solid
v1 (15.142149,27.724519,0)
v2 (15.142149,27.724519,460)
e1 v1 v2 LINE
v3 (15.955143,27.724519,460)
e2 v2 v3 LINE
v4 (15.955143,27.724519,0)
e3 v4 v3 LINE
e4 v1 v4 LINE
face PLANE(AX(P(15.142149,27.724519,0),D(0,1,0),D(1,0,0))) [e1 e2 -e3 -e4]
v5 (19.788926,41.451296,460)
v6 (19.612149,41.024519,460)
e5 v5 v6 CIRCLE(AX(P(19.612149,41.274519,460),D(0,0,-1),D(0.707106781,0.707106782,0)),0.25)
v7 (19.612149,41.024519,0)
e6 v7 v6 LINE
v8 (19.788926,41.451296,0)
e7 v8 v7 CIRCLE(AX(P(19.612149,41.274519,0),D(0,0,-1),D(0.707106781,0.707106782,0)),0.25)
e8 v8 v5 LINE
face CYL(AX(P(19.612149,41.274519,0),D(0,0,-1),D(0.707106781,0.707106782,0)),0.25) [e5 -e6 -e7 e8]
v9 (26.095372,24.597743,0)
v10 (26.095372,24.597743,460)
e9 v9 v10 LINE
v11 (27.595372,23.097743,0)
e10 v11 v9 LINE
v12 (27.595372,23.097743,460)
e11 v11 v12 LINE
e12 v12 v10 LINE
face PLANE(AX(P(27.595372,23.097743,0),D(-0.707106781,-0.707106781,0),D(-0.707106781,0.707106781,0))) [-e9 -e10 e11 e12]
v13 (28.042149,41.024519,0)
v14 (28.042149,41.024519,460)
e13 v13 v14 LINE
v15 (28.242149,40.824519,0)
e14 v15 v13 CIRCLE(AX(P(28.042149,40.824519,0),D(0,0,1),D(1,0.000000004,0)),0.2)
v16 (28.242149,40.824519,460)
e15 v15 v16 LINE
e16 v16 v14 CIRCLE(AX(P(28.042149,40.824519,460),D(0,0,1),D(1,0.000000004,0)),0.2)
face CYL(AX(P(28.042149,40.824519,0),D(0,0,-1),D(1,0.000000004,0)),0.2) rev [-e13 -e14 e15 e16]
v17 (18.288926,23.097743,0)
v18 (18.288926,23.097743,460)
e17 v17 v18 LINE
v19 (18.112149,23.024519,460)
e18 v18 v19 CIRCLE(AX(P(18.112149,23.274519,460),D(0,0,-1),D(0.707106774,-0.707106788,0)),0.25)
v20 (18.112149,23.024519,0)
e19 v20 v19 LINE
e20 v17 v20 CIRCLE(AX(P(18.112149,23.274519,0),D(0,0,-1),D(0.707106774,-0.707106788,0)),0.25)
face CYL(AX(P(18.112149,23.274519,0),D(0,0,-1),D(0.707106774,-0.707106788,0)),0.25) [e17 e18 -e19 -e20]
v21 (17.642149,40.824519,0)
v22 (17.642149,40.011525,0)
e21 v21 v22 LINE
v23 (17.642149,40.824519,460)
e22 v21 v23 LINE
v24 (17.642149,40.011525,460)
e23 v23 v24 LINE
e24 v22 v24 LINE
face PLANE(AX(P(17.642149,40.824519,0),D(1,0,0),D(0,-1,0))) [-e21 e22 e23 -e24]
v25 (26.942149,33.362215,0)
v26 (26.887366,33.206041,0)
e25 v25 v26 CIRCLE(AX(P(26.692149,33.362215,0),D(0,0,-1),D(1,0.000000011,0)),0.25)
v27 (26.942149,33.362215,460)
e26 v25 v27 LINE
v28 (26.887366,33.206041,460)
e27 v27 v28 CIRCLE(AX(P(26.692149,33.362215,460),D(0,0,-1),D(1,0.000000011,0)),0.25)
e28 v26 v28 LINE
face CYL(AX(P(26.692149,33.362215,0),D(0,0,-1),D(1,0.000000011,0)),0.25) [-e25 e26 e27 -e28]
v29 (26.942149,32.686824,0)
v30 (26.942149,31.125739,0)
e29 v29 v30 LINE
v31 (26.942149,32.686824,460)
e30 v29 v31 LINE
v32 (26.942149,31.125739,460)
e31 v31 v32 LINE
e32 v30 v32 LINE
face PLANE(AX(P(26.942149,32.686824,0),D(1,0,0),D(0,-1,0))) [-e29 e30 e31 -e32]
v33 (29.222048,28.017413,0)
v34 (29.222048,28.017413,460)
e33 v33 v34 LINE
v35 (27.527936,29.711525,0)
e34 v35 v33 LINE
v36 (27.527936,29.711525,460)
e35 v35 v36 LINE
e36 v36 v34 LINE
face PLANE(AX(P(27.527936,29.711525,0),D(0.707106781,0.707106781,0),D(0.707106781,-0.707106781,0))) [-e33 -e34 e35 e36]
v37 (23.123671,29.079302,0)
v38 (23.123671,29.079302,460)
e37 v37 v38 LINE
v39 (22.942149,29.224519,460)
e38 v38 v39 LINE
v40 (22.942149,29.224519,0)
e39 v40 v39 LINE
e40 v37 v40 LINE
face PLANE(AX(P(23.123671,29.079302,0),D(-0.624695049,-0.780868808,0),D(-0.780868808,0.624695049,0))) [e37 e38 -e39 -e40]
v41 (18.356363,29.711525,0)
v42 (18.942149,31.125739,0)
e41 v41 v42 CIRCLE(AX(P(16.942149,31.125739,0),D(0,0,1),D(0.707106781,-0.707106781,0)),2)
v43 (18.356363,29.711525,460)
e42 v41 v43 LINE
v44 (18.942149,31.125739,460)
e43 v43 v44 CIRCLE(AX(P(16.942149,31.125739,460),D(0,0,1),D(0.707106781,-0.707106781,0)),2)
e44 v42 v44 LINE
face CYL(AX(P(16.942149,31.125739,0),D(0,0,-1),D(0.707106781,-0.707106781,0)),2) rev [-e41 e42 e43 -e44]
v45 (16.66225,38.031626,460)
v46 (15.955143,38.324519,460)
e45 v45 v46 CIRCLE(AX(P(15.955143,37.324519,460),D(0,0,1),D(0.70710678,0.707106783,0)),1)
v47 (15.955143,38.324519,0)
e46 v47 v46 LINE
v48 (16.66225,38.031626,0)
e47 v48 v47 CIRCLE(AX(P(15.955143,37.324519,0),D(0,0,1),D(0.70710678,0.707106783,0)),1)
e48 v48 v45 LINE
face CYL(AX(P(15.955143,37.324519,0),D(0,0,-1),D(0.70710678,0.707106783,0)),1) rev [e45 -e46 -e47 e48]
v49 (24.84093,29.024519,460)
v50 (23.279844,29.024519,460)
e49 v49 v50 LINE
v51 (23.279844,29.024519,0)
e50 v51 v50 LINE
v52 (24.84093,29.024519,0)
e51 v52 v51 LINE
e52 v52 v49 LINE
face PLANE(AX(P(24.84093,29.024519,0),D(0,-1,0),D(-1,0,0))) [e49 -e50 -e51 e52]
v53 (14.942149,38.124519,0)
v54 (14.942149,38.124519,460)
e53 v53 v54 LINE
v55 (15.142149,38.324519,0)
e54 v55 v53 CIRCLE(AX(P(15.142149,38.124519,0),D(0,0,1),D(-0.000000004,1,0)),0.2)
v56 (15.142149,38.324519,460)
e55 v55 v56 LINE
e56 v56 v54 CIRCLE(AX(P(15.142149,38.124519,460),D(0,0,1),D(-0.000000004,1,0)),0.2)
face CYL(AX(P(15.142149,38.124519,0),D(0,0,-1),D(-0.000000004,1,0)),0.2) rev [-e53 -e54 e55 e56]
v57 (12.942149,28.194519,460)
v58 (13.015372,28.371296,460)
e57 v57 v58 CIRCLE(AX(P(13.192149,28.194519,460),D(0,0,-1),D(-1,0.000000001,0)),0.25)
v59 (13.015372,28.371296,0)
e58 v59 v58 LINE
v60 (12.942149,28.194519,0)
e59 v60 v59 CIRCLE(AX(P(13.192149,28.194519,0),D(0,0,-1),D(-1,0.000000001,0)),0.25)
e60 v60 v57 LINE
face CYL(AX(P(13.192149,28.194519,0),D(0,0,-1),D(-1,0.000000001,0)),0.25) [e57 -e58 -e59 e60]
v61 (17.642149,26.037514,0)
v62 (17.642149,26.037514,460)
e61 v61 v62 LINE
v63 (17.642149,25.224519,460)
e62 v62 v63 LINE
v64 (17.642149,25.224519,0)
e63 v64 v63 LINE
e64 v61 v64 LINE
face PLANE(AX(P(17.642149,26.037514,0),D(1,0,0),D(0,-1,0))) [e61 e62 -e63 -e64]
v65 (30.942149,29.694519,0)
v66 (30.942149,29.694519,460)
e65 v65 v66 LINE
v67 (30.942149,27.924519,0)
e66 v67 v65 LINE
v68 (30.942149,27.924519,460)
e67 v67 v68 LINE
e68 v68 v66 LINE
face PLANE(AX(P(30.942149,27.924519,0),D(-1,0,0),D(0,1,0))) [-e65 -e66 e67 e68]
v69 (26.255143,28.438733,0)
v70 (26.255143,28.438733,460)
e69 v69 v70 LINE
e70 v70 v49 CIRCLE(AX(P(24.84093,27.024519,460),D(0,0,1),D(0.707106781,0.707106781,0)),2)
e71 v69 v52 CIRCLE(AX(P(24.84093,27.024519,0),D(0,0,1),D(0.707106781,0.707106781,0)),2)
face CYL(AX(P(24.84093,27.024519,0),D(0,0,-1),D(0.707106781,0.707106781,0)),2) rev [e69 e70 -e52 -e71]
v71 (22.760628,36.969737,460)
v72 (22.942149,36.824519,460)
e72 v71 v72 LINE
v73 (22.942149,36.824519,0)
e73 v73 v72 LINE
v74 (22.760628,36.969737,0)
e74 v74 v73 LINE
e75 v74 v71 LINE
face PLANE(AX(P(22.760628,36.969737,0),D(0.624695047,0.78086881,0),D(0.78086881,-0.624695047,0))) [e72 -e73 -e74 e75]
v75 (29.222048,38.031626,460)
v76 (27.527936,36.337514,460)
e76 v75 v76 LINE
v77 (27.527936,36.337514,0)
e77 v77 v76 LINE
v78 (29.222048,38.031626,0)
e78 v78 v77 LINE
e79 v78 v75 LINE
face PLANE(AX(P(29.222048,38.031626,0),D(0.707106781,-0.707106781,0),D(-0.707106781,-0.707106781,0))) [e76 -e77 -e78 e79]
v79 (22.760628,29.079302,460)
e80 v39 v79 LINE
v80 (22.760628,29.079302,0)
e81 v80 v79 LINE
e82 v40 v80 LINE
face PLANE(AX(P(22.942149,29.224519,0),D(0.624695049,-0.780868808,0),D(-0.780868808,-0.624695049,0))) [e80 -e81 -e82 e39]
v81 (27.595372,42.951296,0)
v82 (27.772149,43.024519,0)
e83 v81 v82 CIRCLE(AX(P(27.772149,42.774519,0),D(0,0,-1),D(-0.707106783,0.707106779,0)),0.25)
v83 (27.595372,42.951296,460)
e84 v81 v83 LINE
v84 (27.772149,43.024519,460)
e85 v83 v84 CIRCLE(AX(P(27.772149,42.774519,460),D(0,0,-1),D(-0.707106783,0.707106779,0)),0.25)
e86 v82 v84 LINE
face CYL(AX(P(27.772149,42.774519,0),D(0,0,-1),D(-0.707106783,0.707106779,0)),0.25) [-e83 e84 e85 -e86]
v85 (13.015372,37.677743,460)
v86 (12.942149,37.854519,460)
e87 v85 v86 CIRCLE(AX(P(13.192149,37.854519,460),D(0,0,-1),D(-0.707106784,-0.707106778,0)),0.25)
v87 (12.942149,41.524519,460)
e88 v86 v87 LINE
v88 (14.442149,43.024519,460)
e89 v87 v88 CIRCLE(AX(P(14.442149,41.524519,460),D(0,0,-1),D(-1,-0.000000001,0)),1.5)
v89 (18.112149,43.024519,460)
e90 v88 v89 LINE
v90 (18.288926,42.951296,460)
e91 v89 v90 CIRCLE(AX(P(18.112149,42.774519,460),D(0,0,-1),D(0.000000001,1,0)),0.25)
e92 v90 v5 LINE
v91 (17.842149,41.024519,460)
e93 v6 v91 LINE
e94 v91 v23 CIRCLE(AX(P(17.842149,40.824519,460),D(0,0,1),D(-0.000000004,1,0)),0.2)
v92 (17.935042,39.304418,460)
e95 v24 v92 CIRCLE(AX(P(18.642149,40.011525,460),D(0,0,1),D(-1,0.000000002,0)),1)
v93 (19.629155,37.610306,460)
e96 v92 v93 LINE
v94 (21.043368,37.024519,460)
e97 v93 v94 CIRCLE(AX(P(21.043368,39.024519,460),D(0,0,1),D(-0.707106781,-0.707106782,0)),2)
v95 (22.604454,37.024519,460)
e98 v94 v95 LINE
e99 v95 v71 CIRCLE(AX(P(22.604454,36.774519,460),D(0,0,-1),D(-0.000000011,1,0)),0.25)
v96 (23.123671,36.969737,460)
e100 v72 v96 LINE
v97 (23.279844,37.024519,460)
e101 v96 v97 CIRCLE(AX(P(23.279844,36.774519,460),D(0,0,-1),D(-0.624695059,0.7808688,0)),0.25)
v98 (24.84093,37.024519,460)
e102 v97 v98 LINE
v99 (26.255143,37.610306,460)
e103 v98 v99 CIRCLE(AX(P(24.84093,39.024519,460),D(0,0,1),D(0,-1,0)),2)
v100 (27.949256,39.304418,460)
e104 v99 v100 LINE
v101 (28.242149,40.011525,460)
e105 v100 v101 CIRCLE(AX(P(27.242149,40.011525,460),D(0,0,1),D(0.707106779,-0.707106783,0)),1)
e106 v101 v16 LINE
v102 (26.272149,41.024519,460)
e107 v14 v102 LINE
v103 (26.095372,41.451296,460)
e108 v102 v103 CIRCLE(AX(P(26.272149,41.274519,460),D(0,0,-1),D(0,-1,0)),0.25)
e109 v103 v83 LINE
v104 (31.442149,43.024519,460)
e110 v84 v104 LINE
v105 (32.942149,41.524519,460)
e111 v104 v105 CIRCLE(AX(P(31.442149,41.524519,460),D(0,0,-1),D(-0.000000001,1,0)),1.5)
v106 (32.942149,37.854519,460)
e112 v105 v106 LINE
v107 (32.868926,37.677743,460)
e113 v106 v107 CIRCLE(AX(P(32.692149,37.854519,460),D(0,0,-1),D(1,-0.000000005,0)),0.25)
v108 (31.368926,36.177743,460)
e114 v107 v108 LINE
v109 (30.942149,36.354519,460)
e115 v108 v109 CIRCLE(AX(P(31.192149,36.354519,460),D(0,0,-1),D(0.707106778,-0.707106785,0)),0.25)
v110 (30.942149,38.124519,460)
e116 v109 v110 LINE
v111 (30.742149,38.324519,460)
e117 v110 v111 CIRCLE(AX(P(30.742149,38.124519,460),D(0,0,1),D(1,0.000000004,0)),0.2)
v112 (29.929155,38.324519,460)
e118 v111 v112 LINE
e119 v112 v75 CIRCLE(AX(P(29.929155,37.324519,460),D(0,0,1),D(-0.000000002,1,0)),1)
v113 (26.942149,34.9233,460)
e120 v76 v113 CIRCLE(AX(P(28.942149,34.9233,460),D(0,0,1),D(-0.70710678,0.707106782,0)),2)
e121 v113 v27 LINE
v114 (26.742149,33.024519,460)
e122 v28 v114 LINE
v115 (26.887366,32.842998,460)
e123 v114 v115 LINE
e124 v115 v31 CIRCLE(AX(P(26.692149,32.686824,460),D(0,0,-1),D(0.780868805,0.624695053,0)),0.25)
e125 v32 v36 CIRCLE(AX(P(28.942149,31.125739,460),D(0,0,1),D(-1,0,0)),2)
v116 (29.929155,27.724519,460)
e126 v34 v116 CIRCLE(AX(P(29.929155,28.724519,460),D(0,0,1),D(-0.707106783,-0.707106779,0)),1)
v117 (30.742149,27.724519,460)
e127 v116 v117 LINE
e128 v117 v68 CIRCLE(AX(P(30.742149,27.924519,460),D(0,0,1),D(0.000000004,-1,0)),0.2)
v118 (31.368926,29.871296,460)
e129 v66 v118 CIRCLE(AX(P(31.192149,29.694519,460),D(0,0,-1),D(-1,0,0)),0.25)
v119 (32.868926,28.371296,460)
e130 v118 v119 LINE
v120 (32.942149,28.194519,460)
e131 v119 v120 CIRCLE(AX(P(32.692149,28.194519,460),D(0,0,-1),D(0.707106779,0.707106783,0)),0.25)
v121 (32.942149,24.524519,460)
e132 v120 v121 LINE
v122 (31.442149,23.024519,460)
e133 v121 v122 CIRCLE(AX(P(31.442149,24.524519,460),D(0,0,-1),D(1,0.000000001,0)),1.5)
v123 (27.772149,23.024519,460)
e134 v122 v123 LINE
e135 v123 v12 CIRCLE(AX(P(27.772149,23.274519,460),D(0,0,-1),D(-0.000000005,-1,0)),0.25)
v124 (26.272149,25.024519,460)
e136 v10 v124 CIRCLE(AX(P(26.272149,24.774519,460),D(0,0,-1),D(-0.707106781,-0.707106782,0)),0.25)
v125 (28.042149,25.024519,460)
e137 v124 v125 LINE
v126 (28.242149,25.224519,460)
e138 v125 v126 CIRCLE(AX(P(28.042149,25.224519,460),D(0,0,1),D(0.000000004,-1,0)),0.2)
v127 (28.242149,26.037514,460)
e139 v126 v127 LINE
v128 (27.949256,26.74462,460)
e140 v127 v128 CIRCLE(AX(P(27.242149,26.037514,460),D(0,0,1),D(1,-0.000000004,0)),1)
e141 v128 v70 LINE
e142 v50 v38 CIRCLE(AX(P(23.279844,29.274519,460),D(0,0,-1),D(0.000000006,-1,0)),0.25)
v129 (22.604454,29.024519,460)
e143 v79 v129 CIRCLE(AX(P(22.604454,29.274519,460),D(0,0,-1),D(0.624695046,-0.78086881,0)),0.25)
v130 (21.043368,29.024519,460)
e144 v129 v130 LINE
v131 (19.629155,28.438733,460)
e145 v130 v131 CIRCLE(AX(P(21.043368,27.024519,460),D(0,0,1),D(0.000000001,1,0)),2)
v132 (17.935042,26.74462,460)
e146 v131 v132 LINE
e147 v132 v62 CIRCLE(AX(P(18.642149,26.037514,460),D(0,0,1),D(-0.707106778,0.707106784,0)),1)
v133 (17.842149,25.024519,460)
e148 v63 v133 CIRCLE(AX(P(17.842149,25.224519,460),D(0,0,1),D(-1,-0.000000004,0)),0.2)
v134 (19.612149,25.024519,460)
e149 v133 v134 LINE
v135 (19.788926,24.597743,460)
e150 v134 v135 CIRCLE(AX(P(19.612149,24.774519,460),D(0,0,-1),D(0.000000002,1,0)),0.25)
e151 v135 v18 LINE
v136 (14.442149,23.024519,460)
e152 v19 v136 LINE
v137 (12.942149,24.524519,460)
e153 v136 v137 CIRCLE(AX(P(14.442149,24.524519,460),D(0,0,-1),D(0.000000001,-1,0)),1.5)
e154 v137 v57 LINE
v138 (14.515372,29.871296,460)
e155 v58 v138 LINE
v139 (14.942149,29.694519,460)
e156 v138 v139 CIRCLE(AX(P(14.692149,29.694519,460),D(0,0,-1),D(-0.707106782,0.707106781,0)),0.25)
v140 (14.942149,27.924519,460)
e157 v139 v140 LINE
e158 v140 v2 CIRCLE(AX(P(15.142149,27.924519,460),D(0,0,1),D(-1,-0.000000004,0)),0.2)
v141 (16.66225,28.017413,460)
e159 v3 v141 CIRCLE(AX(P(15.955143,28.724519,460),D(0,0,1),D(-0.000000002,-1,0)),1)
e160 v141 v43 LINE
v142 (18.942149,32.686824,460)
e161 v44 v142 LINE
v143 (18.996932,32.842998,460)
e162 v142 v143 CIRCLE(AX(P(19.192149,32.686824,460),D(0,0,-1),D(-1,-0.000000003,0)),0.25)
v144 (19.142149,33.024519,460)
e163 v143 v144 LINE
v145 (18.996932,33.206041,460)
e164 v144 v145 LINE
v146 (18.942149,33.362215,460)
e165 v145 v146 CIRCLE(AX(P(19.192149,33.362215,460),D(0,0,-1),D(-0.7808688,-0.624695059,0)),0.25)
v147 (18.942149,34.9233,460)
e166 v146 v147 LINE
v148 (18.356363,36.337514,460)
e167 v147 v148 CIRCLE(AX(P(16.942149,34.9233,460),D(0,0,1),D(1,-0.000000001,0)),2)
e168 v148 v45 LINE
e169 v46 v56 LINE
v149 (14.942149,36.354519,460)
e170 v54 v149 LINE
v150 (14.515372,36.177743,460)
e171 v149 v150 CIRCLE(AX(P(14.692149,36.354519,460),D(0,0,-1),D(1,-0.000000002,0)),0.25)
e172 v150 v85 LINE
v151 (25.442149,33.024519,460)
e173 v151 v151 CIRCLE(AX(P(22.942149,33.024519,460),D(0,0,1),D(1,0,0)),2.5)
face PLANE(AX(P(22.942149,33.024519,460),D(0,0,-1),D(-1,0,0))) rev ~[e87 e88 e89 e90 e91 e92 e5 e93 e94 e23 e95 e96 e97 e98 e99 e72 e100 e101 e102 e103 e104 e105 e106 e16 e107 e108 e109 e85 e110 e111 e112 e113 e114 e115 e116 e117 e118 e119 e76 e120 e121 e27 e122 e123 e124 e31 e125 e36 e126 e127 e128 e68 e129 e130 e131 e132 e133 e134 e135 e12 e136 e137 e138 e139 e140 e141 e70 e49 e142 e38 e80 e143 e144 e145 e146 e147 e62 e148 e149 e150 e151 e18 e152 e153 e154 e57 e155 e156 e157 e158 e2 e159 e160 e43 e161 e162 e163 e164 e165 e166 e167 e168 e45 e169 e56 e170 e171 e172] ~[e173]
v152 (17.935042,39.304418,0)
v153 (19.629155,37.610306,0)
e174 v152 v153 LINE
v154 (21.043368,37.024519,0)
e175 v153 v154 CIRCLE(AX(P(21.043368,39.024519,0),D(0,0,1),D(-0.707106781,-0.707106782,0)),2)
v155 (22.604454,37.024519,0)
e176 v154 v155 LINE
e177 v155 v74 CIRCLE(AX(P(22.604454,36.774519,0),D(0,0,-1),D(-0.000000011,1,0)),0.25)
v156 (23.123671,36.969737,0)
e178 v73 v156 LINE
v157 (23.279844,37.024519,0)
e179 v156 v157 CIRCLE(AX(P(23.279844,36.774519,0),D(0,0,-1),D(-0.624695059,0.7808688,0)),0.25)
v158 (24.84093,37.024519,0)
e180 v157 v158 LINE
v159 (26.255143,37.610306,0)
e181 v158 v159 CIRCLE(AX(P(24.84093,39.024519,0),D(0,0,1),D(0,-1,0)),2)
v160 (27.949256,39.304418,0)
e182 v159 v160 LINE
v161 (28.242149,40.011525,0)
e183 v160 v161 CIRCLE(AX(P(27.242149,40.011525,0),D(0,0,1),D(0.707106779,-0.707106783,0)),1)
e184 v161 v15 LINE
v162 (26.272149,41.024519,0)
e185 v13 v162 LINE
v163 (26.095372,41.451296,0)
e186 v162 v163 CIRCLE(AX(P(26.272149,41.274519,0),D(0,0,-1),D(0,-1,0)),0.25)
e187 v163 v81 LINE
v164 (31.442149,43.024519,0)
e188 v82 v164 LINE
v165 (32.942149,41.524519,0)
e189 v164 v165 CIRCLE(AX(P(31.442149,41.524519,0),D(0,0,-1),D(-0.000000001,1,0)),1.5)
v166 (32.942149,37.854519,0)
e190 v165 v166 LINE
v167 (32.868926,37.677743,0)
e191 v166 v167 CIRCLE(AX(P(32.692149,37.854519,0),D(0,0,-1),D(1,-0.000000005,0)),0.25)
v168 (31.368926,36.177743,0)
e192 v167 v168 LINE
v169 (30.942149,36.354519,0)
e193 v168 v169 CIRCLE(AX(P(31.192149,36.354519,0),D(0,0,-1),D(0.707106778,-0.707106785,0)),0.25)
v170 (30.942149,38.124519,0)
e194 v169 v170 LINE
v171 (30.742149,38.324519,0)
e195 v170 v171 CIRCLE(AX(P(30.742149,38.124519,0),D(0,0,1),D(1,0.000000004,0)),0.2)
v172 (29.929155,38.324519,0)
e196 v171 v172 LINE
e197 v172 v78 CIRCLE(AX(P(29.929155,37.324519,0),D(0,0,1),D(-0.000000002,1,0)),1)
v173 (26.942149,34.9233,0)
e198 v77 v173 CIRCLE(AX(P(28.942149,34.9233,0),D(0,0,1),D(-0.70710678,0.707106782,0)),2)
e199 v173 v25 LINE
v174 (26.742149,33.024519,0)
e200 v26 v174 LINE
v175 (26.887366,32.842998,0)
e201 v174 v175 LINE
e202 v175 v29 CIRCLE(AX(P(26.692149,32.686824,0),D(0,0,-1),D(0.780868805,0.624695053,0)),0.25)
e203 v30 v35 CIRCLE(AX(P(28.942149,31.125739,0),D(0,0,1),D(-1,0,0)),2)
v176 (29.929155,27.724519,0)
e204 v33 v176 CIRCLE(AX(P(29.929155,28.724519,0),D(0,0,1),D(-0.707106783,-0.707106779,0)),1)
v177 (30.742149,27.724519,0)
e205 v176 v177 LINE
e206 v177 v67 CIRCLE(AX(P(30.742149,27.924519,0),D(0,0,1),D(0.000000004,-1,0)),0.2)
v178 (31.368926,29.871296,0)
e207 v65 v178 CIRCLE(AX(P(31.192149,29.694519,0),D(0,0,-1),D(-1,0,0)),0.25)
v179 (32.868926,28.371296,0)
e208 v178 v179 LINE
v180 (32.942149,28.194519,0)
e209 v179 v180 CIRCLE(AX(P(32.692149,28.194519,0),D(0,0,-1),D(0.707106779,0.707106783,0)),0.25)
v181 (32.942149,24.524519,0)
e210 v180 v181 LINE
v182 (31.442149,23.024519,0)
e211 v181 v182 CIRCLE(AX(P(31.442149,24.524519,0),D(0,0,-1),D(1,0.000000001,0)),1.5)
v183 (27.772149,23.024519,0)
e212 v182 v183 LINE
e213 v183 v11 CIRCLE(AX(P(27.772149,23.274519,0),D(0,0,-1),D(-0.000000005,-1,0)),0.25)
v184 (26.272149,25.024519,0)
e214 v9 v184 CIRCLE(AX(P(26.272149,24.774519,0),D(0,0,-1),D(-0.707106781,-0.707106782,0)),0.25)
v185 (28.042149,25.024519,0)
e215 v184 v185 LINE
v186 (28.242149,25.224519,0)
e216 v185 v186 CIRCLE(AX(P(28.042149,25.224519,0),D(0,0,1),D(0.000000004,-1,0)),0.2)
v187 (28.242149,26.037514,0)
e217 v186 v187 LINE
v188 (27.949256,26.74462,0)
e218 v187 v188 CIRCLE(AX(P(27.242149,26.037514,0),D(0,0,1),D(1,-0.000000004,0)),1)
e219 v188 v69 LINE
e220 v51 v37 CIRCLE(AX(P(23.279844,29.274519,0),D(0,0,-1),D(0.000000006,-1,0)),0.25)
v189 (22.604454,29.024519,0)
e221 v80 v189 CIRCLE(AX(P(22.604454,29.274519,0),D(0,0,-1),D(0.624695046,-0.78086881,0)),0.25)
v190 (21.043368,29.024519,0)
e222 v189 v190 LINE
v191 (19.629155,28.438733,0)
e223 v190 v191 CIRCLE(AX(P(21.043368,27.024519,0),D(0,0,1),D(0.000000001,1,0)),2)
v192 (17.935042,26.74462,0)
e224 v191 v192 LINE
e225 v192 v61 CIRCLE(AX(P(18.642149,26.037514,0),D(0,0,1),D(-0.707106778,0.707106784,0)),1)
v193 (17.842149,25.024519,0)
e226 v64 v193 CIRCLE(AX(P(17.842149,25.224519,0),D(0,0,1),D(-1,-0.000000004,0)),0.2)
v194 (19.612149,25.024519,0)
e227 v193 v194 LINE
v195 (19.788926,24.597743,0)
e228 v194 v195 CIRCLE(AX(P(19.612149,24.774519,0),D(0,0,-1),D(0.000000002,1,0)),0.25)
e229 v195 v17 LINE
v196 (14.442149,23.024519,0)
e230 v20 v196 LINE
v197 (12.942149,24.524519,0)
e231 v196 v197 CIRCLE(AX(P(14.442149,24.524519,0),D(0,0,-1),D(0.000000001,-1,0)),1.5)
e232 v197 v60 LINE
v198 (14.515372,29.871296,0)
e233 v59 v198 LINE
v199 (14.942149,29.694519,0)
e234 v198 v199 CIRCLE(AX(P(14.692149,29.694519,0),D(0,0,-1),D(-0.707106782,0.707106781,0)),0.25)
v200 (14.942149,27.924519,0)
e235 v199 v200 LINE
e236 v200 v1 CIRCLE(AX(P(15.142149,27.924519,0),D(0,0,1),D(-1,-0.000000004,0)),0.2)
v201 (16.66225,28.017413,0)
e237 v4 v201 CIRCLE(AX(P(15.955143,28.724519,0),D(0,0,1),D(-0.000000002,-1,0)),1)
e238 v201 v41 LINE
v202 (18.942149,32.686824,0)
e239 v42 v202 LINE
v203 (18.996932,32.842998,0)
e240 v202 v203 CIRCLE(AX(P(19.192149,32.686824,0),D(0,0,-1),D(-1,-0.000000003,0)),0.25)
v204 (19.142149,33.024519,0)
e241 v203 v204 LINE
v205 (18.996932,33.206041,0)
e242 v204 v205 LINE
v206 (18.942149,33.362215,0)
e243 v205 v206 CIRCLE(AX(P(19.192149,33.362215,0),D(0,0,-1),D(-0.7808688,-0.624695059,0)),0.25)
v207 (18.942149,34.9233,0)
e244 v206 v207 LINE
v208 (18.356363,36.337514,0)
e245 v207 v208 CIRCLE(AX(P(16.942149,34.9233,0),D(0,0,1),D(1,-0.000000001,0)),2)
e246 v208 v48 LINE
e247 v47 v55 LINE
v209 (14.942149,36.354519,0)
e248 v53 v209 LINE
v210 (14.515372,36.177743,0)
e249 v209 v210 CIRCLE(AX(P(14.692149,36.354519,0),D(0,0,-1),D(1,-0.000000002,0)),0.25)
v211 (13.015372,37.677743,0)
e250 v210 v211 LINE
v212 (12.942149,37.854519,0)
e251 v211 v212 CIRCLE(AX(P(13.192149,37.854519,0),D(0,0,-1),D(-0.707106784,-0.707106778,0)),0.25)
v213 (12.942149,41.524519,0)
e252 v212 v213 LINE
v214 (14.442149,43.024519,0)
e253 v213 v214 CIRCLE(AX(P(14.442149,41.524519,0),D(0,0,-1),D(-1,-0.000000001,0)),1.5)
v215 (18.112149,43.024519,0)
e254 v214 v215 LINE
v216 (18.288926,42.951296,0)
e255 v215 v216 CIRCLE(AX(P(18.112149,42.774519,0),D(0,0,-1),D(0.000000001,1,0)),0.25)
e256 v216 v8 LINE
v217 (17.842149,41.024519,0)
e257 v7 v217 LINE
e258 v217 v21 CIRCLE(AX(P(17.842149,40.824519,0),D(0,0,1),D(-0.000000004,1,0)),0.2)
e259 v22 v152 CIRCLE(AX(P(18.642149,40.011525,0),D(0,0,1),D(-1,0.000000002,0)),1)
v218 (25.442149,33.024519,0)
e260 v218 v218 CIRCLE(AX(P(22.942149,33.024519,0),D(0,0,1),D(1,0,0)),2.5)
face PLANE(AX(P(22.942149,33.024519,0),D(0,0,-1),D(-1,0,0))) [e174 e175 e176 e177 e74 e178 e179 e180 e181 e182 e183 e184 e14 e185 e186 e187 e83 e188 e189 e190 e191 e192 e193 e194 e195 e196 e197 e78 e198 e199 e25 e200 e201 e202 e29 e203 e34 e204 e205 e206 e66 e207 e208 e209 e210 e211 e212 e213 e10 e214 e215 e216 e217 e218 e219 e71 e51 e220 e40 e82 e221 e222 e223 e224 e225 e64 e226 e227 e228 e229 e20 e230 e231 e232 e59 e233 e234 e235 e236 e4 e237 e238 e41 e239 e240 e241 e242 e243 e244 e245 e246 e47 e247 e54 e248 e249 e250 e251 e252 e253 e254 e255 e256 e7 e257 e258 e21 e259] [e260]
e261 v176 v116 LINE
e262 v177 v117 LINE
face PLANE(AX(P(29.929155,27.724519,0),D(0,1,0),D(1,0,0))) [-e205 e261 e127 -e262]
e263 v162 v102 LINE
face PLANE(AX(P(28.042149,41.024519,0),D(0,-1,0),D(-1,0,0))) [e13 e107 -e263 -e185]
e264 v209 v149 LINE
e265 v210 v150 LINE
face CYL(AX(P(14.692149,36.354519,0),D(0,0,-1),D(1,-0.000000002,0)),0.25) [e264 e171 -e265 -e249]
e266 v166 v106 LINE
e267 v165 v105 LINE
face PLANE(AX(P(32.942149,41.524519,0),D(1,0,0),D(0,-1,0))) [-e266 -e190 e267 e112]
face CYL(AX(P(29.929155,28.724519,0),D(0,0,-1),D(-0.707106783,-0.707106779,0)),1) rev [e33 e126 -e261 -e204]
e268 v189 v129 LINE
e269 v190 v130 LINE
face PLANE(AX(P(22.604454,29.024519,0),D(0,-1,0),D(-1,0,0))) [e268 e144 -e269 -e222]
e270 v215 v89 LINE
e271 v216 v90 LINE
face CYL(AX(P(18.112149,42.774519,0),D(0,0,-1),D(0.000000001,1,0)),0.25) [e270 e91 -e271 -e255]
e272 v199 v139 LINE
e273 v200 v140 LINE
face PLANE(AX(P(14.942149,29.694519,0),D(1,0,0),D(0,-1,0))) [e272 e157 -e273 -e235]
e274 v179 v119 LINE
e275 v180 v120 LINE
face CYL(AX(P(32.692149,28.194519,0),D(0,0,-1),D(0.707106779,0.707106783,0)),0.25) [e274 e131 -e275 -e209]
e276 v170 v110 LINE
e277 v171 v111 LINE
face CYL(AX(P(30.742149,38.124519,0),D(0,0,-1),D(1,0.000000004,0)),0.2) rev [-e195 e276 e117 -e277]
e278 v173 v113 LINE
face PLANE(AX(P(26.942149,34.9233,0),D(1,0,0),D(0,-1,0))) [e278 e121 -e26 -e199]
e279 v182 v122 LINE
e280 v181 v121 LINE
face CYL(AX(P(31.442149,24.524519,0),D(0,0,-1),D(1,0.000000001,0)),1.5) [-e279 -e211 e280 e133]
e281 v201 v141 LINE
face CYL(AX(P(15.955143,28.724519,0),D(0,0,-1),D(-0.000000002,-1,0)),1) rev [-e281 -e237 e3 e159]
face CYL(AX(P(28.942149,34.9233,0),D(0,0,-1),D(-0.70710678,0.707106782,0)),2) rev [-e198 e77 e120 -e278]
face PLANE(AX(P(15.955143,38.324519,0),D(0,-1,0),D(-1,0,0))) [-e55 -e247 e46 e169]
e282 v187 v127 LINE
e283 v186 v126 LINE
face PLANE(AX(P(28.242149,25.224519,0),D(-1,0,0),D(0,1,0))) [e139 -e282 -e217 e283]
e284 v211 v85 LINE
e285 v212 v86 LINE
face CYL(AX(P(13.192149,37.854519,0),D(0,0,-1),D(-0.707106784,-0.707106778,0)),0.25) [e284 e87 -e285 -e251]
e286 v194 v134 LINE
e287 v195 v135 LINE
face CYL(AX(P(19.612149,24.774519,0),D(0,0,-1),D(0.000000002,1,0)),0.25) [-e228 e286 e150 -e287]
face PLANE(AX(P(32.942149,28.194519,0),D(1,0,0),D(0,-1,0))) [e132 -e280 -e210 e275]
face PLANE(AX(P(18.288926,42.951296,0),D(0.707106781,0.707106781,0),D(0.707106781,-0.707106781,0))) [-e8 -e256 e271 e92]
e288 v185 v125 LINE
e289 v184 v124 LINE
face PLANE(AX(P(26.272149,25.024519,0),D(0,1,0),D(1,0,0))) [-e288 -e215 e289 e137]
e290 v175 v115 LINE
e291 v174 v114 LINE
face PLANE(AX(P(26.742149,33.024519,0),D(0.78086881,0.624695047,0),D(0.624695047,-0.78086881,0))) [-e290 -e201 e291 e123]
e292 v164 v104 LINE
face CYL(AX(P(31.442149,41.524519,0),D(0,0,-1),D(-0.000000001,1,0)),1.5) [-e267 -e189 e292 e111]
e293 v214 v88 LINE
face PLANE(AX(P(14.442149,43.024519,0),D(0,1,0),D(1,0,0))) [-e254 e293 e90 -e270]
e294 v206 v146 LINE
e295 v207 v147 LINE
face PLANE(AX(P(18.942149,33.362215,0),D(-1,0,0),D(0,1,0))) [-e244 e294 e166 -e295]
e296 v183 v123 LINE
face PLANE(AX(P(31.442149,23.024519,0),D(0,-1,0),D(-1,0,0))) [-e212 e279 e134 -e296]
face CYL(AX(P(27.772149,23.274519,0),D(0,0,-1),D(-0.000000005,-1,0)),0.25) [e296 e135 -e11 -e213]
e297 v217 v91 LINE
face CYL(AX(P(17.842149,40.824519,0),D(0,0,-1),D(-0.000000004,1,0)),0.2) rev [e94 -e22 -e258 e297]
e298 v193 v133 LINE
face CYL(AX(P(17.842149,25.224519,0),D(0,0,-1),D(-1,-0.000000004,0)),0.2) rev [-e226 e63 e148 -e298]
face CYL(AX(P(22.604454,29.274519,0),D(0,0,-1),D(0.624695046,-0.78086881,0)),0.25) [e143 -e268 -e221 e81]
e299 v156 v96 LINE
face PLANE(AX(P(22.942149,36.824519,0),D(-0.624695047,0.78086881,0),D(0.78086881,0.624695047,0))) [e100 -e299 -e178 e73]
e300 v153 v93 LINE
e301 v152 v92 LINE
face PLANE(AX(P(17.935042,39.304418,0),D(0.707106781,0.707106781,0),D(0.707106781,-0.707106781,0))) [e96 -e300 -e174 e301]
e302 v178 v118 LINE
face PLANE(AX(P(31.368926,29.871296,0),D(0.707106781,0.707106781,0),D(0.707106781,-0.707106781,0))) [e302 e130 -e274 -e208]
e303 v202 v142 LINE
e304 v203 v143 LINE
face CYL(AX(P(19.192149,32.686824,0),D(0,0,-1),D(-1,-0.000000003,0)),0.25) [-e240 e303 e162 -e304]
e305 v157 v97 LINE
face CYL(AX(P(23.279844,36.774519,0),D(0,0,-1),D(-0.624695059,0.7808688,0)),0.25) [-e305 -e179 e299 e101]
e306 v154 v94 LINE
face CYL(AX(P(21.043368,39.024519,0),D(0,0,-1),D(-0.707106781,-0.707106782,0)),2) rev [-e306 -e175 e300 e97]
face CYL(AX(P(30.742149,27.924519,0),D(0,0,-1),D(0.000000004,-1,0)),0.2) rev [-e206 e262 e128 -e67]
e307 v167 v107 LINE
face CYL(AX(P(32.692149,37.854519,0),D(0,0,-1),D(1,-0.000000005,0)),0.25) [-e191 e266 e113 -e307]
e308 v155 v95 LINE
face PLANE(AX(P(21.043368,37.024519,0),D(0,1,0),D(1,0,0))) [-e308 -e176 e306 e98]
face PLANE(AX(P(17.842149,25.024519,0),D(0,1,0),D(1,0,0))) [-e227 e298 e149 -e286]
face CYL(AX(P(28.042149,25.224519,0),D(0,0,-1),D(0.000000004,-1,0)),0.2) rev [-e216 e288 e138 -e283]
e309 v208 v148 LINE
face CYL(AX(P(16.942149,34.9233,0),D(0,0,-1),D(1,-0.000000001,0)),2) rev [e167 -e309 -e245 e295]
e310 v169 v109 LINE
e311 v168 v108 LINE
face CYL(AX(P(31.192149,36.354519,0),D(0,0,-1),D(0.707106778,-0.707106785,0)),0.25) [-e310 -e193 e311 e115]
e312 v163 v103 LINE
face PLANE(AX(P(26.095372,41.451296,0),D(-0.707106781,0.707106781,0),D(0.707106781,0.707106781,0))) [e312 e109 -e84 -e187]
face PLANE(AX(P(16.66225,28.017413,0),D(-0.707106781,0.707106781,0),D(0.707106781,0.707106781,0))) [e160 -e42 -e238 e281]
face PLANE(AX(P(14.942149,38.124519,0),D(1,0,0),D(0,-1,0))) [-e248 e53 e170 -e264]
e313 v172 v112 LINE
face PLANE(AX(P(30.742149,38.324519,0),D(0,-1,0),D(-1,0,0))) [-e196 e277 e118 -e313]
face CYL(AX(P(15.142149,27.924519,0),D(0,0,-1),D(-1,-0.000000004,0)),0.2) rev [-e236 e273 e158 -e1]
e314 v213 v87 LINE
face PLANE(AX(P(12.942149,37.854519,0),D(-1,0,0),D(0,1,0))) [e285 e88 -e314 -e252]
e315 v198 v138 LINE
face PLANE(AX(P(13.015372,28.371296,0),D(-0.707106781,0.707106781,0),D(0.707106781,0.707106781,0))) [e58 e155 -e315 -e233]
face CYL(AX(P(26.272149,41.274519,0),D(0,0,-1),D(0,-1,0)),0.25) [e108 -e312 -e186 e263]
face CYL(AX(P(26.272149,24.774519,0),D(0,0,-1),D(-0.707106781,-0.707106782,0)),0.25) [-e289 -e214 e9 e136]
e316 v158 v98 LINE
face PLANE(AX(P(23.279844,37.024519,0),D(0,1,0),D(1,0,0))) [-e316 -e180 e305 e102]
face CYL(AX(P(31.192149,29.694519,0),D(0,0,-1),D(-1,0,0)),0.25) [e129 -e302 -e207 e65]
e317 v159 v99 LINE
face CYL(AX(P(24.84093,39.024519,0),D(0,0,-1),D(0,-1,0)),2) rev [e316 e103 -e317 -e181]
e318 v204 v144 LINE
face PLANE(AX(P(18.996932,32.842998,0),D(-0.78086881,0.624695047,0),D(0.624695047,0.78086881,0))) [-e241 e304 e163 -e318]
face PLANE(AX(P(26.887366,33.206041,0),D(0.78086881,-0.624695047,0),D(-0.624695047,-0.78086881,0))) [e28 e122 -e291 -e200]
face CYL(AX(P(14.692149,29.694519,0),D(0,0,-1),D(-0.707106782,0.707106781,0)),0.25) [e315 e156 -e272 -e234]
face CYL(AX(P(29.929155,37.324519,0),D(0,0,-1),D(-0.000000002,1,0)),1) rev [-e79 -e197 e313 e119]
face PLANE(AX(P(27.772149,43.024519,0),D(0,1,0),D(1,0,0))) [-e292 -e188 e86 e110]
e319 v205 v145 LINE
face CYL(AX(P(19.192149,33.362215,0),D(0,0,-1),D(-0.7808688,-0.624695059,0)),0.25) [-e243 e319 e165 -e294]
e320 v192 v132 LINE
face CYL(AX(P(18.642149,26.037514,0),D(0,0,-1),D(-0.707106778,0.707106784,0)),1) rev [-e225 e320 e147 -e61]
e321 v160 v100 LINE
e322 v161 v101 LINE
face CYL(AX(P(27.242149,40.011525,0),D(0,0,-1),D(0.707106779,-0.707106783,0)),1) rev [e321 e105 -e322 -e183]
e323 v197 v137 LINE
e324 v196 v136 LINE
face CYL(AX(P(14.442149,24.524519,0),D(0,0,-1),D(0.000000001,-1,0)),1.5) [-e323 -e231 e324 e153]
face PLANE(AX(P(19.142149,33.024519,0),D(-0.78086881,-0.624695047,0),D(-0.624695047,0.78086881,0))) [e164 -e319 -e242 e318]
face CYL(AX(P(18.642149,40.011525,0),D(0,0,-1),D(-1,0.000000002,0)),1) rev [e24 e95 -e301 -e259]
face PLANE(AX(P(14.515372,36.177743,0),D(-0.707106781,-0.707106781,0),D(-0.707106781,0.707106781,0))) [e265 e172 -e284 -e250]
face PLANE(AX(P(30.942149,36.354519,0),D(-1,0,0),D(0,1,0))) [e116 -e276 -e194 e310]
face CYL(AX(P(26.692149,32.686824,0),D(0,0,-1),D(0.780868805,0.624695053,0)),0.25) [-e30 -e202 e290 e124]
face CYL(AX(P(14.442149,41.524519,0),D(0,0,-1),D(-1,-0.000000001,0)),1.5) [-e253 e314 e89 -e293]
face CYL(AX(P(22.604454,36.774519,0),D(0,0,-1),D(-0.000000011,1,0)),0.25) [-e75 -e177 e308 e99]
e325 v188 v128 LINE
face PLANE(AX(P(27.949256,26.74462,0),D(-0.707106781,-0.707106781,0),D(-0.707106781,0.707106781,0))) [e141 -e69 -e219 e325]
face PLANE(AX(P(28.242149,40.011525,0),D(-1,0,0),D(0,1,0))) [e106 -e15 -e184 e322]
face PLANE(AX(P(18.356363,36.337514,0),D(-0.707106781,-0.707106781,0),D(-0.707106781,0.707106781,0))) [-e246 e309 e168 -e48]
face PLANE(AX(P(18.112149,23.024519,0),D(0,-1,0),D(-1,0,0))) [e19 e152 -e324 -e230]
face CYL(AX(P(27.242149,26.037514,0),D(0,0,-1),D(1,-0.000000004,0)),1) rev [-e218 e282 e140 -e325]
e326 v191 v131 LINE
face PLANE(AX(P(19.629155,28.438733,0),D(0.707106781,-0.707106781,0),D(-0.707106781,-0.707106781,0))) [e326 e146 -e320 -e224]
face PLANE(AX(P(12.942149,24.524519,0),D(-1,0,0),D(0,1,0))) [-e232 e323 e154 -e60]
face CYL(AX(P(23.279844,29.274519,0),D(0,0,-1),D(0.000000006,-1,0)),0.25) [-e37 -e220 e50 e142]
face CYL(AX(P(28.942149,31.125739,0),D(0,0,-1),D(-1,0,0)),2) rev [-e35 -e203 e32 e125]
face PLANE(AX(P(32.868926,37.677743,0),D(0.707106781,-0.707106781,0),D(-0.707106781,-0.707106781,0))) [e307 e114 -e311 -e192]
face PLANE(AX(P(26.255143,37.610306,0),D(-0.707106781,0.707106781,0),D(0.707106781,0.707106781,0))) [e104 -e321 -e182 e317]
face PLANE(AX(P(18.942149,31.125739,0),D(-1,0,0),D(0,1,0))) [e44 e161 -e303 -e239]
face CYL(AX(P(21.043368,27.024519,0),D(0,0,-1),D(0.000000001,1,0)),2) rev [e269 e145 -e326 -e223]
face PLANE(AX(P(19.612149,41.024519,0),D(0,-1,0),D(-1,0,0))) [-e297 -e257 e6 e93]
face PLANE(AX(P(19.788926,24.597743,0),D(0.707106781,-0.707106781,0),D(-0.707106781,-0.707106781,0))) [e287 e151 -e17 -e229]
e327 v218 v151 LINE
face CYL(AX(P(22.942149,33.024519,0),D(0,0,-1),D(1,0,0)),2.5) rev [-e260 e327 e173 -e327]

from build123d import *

# Parameters (mm, degrees)
MODEL_R         = 2.5
EXTRUDE_1_DEPTH = 460


with BuildPart() as part:
    # Model → Бобышка-Вытянуть1 (new body)
    with BuildSketch(Plane.XY):
        with BuildLine():
            Line((18.94214915, 33.362214718), (18.94214915, 34.923300122))
            ThreePointArc((18.94214915, 34.923300122), (18.789908215, 35.688666987), (18.356362712, 36.337513684))
            Line((18.356362712, 36.337513684), (16.662250163, 38.031626234))
            ThreePointArc((16.662250163, 38.031626234), (16.337826814, 38.248398985), (15.955143382, 38.324519453))
            Line((15.955143382, 38.324519453), (15.14214915, 38.324519453))
            ThreePointArc((15.14214915, 38.324519453), (15.000727794, 38.265940809), (14.94214915, 38.124519453))
            Line((14.94214915, 38.124519453), (14.94214915, 36.354519453))
            ThreePointArc((14.94214915, 36.354519453), (14.787820008, 36.12354957), (14.515372455, 36.177742757))
            Line((14.515372455, 36.177742757), (13.015372455, 37.677742757))
            ThreePointArc((13.015372455, 37.677742757), (12.961179267, 37.758848595), (12.94214915, 37.854519453))
            Line((12.94214915, 37.854519453), (12.94214915, 41.524519453))
            ThreePointArc((12.94214915, 41.524519453), (13.381488978, 42.585179625), (14.44214915, 43.024519453))
            Line((14.44214915, 43.024519453), (18.11214915, 43.024519453))
            ThreePointArc((18.11214915, 43.024519453), (18.207820008, 43.005489336), (18.288925845, 42.951296148))
            Line((18.288925845, 42.951296148), (19.788925845, 41.451296148))
            ThreePointArc((19.788925845, 41.451296148), (19.843119033, 41.178848595), (19.61214915, 41.024519453))
            Line((19.61214915, 41.024519453), (17.84214915, 41.024519453))
            ThreePointArc((17.84214915, 41.024519453), (17.700727794, 40.965940809), (17.64214915, 40.824519453))
            Line((17.64214915, 40.824519453), (17.64214915, 40.011525221))
            ThreePointArc((17.64214915, 40.011525221), (17.718269617, 39.628841789), (17.935042369, 39.30441844))
            Line((17.935042369, 39.30441844), (19.629154919, 37.61030589))
            ThreePointArc((19.629154919, 37.61030589), (20.278001616, 37.176760388), (21.043368481, 37.024519453))
            Line((21.043368481, 37.024519453), (22.604453885, 37.024519453))
            ThreePointArc((22.604453885, 37.024519453), (22.687205621, 37.010426533), (22.760627647, 36.969736655))
            Line((22.760627647, 36.969736655), (22.94214915, 36.824519453))
            Line((22.94214915, 36.824519453), (23.123670653, 36.969736655))
            ThreePointArc((23.123670653, 36.969736655), (23.197092679, 37.010426533), (23.279844415, 37.024519453))
            Line((23.279844415, 37.024519453), (24.840929819, 37.024519453))
            ThreePointArc((24.840929819, 37.024519453), (25.606296684, 37.176760388), (26.255143382, 37.61030589))
            Line((26.255143382, 37.61030589), (27.949255931, 39.30441844))
            ThreePointArc((27.949255931, 39.30441844), (28.166028683, 39.628841789), (28.24214915, 40.011525221))
            Line((28.24214915, 40.011525221), (28.24214915, 40.824519453))
            ThreePointArc((28.24214915, 40.824519453), (28.183570506, 40.965940809), (28.04214915, 41.024519453))
            Line((28.04214915, 41.024519453), (26.27214915, 41.024519453))
            ThreePointArc((26.27214915, 41.024519453), (26.041179267, 41.178848595), (26.095372455, 41.451296148))
            Line((26.095372455, 41.451296148), (27.595372455, 42.951296148))
            ThreePointArc((27.595372455, 42.951296148), (27.676478292, 43.005489336), (27.77214915, 43.024519453))
            Line((27.77214915, 43.024519453), (31.44214915, 43.024519453))
            ThreePointArc((31.44214915, 43.024519453), (32.502809322, 42.585179625), (32.94214915, 41.524519453))
            Line((32.94214915, 41.524519453), (32.94214915, 37.854519453))
            ThreePointArc((32.94214915, 37.854519453), (32.923119033, 37.758848595), (32.868925845, 37.677742757))
            Line((32.868925845, 37.677742757), (31.368925845, 36.177742757))
            ThreePointArc((31.368925845, 36.177742757), (31.096478292, 36.12354957), (30.94214915, 36.354519453))
            Line((30.94214915, 36.354519453), (30.94214915, 38.124519453))
            ThreePointArc((30.94214915, 38.124519453), (30.883570506, 38.265940809), (30.74214915, 38.324519453))
            Line((30.74214915, 38.324519453), (29.929154919, 38.324519453))
            ThreePointArc((29.929154919, 38.324519453), (29.546471486, 38.248398985), (29.222048137, 38.031626234))
            Line((29.222048137, 38.031626234), (27.527935588, 36.337513684))
            ThreePointArc((27.527935588, 36.337513684), (27.094390085, 35.688666987), (26.94214915, 34.923300122))
            Line((26.94214915, 34.923300122), (26.94214915, 33.362214718))
            ThreePointArc((26.94214915, 33.362214718), (26.92805623, 33.279462982), (26.887366352, 33.206040956))
            Line((26.887366352, 33.206040956), (26.74214915, 33.024519453))
            Line((26.74214915, 33.024519453), (26.887366352, 32.84299795))
            ThreePointArc((26.887366352, 32.84299795), (26.92805623, 32.769575923), (26.94214915, 32.686824188))
            Line((26.94214915, 32.686824188), (26.94214915, 31.125738784))
            ThreePointArc((26.94214915, 31.125738784), (27.094390085, 30.360371919), (27.527935588, 29.711525221))
            Line((27.527935588, 29.711525221), (29.222048137, 28.017412672))
            ThreePointArc((29.222048137, 28.017412672), (29.546471486, 27.80063992), (29.929154919, 27.724519453))
            Line((29.929154919, 27.724519453), (30.74214915, 27.724519453))
            ThreePointArc((30.74214915, 27.724519453), (30.883570506, 27.783098097), (30.94214915, 27.924519453))
            Line((30.94214915, 27.924519453), (30.94214915, 29.694519453))
            ThreePointArc((30.94214915, 29.694519453), (31.096478292, 29.925489336), (31.368925845, 29.871296148))
            Line((31.368925845, 29.871296148), (32.868925845, 28.371296148))
            ThreePointArc((32.868925845, 28.371296148), (32.923119033, 28.290190311), (32.94214915, 28.194519453))
            Line((32.94214915, 28.194519453), (32.94214915, 24.524519453))
            ThreePointArc((32.94214915, 24.524519453), (32.502809322, 23.463859281), (31.44214915, 23.024519453))
            Line((31.44214915, 23.024519453), (27.77214915, 23.024519453))
            ThreePointArc((27.77214915, 23.024519453), (27.676478292, 23.04354957), (27.595372455, 23.097742757))
            Line((27.595372455, 23.097742757), (26.095372455, 24.597742757))
            ThreePointArc((26.095372455, 24.597742757), (26.041179267, 24.870190311), (26.27214915, 25.024519453))
            Line((26.27214915, 25.024519453), (28.04214915, 25.024519453))
            ThreePointArc((28.04214915, 25.024519453), (28.183570506, 25.083098097), (28.24214915, 25.224519453))
            Line((28.24214915, 25.224519453), (28.24214915, 26.037513684))
            ThreePointArc((28.24214915, 26.037513684), (28.166028683, 26.420197117), (27.949255931, 26.744620465))
            Line((27.949255931, 26.744620465), (26.255143382, 28.438733015))
            ThreePointArc((26.255143382, 28.438733015), (25.606296684, 28.872278518), (24.840929819, 29.024519453))
            Line((24.840929819, 29.024519453), (23.279844415, 29.024519453))
            ThreePointArc((23.279844415, 29.024519453), (23.197092679, 29.038612373), (23.123670653, 29.07930225))
            Line((23.123670653, 29.07930225), (22.94214915, 29.224519453))
            Line((22.94214915, 29.224519453), (22.760627647, 29.07930225))
            ThreePointArc((22.760627647, 29.07930225), (22.687205621, 29.038612373), (22.604453885, 29.024519453))
            Line((22.604453885, 29.024519453), (21.043368481, 29.024519453))
            ThreePointArc((21.043368481, 29.024519453), (20.278001616, 28.872278518), (19.629154919, 28.438733015))
            Line((19.629154919, 28.438733015), (17.935042369, 26.744620465))
            ThreePointArc((17.935042369, 26.744620465), (17.718269617, 26.420197117), (17.64214915, 26.037513684))
            Line((17.64214915, 26.037513684), (17.64214915, 25.224519453))
            ThreePointArc((17.64214915, 25.224519453), (17.700727794, 25.083098097), (17.84214915, 25.024519453))
            Line((17.84214915, 25.024519453), (19.61214915, 25.024519453))
            ThreePointArc((19.61214915, 25.024519453), (19.843119033, 24.870190311), (19.788925845, 24.597742757))
            Line((19.788925845, 24.597742757), (18.288925845, 23.097742757))
            ThreePointArc((18.288925845, 23.097742757), (18.207820008, 23.04354957), (18.11214915, 23.024519453))
            Line((18.11214915, 23.024519453), (14.44214915, 23.024519453))
            ThreePointArc((14.44214915, 23.024519453), (13.381488978, 23.463859281), (12.94214915, 24.524519453))
            Line((12.94214915, 24.524519453), (12.94214915, 28.194519453))
            ThreePointArc((12.94214915, 28.194519453), (12.961179267, 28.290190311), (13.015372455, 28.371296148))
            Line((13.015372455, 28.371296148), (14.515372455, 29.871296148))
            ThreePointArc((14.515372455, 29.871296148), (14.787820008, 29.925489336), (14.94214915, 29.694519453))
            Line((14.94214915, 29.694519453), (14.94214915, 27.924519453))
            ThreePointArc((14.94214915, 27.924519453), (15.000727794, 27.783098097), (15.14214915, 27.724519453))
            Line((15.14214915, 27.724519453), (15.955143382, 27.724519453))
            ThreePointArc((15.955143382, 27.724519453), (16.337826814, 27.80063992), (16.662250163, 28.017412672))
            Line((16.662250163, 28.017412672), (18.356362712, 29.711525221))
            ThreePointArc((18.356362712, 29.711525221), (18.789908215, 30.360371919), (18.94214915, 31.125738784))
            Line((18.94214915, 31.125738784), (18.94214915, 32.686824188))
            ThreePointArc((18.94214915, 32.686824188), (18.95624207, 32.769575923), (18.996931948, 32.84299795))
            Line((18.996931948, 32.84299795), (19.14214915, 33.024519453))
            Line((19.14214915, 33.024519453), (18.996931948, 33.206040956))
            ThreePointArc((18.996931948, 33.206040956), (18.95624207, 33.279462982), (18.94214915, 33.362214718))
        make_face()
        with Locations((22.94214915, 33.024519453)):
            Circle(MODEL_R, mode=Mode.SUBTRACT)
    extrude(amount=EXTRUDE_1_DEPTH)


solid = part.part
